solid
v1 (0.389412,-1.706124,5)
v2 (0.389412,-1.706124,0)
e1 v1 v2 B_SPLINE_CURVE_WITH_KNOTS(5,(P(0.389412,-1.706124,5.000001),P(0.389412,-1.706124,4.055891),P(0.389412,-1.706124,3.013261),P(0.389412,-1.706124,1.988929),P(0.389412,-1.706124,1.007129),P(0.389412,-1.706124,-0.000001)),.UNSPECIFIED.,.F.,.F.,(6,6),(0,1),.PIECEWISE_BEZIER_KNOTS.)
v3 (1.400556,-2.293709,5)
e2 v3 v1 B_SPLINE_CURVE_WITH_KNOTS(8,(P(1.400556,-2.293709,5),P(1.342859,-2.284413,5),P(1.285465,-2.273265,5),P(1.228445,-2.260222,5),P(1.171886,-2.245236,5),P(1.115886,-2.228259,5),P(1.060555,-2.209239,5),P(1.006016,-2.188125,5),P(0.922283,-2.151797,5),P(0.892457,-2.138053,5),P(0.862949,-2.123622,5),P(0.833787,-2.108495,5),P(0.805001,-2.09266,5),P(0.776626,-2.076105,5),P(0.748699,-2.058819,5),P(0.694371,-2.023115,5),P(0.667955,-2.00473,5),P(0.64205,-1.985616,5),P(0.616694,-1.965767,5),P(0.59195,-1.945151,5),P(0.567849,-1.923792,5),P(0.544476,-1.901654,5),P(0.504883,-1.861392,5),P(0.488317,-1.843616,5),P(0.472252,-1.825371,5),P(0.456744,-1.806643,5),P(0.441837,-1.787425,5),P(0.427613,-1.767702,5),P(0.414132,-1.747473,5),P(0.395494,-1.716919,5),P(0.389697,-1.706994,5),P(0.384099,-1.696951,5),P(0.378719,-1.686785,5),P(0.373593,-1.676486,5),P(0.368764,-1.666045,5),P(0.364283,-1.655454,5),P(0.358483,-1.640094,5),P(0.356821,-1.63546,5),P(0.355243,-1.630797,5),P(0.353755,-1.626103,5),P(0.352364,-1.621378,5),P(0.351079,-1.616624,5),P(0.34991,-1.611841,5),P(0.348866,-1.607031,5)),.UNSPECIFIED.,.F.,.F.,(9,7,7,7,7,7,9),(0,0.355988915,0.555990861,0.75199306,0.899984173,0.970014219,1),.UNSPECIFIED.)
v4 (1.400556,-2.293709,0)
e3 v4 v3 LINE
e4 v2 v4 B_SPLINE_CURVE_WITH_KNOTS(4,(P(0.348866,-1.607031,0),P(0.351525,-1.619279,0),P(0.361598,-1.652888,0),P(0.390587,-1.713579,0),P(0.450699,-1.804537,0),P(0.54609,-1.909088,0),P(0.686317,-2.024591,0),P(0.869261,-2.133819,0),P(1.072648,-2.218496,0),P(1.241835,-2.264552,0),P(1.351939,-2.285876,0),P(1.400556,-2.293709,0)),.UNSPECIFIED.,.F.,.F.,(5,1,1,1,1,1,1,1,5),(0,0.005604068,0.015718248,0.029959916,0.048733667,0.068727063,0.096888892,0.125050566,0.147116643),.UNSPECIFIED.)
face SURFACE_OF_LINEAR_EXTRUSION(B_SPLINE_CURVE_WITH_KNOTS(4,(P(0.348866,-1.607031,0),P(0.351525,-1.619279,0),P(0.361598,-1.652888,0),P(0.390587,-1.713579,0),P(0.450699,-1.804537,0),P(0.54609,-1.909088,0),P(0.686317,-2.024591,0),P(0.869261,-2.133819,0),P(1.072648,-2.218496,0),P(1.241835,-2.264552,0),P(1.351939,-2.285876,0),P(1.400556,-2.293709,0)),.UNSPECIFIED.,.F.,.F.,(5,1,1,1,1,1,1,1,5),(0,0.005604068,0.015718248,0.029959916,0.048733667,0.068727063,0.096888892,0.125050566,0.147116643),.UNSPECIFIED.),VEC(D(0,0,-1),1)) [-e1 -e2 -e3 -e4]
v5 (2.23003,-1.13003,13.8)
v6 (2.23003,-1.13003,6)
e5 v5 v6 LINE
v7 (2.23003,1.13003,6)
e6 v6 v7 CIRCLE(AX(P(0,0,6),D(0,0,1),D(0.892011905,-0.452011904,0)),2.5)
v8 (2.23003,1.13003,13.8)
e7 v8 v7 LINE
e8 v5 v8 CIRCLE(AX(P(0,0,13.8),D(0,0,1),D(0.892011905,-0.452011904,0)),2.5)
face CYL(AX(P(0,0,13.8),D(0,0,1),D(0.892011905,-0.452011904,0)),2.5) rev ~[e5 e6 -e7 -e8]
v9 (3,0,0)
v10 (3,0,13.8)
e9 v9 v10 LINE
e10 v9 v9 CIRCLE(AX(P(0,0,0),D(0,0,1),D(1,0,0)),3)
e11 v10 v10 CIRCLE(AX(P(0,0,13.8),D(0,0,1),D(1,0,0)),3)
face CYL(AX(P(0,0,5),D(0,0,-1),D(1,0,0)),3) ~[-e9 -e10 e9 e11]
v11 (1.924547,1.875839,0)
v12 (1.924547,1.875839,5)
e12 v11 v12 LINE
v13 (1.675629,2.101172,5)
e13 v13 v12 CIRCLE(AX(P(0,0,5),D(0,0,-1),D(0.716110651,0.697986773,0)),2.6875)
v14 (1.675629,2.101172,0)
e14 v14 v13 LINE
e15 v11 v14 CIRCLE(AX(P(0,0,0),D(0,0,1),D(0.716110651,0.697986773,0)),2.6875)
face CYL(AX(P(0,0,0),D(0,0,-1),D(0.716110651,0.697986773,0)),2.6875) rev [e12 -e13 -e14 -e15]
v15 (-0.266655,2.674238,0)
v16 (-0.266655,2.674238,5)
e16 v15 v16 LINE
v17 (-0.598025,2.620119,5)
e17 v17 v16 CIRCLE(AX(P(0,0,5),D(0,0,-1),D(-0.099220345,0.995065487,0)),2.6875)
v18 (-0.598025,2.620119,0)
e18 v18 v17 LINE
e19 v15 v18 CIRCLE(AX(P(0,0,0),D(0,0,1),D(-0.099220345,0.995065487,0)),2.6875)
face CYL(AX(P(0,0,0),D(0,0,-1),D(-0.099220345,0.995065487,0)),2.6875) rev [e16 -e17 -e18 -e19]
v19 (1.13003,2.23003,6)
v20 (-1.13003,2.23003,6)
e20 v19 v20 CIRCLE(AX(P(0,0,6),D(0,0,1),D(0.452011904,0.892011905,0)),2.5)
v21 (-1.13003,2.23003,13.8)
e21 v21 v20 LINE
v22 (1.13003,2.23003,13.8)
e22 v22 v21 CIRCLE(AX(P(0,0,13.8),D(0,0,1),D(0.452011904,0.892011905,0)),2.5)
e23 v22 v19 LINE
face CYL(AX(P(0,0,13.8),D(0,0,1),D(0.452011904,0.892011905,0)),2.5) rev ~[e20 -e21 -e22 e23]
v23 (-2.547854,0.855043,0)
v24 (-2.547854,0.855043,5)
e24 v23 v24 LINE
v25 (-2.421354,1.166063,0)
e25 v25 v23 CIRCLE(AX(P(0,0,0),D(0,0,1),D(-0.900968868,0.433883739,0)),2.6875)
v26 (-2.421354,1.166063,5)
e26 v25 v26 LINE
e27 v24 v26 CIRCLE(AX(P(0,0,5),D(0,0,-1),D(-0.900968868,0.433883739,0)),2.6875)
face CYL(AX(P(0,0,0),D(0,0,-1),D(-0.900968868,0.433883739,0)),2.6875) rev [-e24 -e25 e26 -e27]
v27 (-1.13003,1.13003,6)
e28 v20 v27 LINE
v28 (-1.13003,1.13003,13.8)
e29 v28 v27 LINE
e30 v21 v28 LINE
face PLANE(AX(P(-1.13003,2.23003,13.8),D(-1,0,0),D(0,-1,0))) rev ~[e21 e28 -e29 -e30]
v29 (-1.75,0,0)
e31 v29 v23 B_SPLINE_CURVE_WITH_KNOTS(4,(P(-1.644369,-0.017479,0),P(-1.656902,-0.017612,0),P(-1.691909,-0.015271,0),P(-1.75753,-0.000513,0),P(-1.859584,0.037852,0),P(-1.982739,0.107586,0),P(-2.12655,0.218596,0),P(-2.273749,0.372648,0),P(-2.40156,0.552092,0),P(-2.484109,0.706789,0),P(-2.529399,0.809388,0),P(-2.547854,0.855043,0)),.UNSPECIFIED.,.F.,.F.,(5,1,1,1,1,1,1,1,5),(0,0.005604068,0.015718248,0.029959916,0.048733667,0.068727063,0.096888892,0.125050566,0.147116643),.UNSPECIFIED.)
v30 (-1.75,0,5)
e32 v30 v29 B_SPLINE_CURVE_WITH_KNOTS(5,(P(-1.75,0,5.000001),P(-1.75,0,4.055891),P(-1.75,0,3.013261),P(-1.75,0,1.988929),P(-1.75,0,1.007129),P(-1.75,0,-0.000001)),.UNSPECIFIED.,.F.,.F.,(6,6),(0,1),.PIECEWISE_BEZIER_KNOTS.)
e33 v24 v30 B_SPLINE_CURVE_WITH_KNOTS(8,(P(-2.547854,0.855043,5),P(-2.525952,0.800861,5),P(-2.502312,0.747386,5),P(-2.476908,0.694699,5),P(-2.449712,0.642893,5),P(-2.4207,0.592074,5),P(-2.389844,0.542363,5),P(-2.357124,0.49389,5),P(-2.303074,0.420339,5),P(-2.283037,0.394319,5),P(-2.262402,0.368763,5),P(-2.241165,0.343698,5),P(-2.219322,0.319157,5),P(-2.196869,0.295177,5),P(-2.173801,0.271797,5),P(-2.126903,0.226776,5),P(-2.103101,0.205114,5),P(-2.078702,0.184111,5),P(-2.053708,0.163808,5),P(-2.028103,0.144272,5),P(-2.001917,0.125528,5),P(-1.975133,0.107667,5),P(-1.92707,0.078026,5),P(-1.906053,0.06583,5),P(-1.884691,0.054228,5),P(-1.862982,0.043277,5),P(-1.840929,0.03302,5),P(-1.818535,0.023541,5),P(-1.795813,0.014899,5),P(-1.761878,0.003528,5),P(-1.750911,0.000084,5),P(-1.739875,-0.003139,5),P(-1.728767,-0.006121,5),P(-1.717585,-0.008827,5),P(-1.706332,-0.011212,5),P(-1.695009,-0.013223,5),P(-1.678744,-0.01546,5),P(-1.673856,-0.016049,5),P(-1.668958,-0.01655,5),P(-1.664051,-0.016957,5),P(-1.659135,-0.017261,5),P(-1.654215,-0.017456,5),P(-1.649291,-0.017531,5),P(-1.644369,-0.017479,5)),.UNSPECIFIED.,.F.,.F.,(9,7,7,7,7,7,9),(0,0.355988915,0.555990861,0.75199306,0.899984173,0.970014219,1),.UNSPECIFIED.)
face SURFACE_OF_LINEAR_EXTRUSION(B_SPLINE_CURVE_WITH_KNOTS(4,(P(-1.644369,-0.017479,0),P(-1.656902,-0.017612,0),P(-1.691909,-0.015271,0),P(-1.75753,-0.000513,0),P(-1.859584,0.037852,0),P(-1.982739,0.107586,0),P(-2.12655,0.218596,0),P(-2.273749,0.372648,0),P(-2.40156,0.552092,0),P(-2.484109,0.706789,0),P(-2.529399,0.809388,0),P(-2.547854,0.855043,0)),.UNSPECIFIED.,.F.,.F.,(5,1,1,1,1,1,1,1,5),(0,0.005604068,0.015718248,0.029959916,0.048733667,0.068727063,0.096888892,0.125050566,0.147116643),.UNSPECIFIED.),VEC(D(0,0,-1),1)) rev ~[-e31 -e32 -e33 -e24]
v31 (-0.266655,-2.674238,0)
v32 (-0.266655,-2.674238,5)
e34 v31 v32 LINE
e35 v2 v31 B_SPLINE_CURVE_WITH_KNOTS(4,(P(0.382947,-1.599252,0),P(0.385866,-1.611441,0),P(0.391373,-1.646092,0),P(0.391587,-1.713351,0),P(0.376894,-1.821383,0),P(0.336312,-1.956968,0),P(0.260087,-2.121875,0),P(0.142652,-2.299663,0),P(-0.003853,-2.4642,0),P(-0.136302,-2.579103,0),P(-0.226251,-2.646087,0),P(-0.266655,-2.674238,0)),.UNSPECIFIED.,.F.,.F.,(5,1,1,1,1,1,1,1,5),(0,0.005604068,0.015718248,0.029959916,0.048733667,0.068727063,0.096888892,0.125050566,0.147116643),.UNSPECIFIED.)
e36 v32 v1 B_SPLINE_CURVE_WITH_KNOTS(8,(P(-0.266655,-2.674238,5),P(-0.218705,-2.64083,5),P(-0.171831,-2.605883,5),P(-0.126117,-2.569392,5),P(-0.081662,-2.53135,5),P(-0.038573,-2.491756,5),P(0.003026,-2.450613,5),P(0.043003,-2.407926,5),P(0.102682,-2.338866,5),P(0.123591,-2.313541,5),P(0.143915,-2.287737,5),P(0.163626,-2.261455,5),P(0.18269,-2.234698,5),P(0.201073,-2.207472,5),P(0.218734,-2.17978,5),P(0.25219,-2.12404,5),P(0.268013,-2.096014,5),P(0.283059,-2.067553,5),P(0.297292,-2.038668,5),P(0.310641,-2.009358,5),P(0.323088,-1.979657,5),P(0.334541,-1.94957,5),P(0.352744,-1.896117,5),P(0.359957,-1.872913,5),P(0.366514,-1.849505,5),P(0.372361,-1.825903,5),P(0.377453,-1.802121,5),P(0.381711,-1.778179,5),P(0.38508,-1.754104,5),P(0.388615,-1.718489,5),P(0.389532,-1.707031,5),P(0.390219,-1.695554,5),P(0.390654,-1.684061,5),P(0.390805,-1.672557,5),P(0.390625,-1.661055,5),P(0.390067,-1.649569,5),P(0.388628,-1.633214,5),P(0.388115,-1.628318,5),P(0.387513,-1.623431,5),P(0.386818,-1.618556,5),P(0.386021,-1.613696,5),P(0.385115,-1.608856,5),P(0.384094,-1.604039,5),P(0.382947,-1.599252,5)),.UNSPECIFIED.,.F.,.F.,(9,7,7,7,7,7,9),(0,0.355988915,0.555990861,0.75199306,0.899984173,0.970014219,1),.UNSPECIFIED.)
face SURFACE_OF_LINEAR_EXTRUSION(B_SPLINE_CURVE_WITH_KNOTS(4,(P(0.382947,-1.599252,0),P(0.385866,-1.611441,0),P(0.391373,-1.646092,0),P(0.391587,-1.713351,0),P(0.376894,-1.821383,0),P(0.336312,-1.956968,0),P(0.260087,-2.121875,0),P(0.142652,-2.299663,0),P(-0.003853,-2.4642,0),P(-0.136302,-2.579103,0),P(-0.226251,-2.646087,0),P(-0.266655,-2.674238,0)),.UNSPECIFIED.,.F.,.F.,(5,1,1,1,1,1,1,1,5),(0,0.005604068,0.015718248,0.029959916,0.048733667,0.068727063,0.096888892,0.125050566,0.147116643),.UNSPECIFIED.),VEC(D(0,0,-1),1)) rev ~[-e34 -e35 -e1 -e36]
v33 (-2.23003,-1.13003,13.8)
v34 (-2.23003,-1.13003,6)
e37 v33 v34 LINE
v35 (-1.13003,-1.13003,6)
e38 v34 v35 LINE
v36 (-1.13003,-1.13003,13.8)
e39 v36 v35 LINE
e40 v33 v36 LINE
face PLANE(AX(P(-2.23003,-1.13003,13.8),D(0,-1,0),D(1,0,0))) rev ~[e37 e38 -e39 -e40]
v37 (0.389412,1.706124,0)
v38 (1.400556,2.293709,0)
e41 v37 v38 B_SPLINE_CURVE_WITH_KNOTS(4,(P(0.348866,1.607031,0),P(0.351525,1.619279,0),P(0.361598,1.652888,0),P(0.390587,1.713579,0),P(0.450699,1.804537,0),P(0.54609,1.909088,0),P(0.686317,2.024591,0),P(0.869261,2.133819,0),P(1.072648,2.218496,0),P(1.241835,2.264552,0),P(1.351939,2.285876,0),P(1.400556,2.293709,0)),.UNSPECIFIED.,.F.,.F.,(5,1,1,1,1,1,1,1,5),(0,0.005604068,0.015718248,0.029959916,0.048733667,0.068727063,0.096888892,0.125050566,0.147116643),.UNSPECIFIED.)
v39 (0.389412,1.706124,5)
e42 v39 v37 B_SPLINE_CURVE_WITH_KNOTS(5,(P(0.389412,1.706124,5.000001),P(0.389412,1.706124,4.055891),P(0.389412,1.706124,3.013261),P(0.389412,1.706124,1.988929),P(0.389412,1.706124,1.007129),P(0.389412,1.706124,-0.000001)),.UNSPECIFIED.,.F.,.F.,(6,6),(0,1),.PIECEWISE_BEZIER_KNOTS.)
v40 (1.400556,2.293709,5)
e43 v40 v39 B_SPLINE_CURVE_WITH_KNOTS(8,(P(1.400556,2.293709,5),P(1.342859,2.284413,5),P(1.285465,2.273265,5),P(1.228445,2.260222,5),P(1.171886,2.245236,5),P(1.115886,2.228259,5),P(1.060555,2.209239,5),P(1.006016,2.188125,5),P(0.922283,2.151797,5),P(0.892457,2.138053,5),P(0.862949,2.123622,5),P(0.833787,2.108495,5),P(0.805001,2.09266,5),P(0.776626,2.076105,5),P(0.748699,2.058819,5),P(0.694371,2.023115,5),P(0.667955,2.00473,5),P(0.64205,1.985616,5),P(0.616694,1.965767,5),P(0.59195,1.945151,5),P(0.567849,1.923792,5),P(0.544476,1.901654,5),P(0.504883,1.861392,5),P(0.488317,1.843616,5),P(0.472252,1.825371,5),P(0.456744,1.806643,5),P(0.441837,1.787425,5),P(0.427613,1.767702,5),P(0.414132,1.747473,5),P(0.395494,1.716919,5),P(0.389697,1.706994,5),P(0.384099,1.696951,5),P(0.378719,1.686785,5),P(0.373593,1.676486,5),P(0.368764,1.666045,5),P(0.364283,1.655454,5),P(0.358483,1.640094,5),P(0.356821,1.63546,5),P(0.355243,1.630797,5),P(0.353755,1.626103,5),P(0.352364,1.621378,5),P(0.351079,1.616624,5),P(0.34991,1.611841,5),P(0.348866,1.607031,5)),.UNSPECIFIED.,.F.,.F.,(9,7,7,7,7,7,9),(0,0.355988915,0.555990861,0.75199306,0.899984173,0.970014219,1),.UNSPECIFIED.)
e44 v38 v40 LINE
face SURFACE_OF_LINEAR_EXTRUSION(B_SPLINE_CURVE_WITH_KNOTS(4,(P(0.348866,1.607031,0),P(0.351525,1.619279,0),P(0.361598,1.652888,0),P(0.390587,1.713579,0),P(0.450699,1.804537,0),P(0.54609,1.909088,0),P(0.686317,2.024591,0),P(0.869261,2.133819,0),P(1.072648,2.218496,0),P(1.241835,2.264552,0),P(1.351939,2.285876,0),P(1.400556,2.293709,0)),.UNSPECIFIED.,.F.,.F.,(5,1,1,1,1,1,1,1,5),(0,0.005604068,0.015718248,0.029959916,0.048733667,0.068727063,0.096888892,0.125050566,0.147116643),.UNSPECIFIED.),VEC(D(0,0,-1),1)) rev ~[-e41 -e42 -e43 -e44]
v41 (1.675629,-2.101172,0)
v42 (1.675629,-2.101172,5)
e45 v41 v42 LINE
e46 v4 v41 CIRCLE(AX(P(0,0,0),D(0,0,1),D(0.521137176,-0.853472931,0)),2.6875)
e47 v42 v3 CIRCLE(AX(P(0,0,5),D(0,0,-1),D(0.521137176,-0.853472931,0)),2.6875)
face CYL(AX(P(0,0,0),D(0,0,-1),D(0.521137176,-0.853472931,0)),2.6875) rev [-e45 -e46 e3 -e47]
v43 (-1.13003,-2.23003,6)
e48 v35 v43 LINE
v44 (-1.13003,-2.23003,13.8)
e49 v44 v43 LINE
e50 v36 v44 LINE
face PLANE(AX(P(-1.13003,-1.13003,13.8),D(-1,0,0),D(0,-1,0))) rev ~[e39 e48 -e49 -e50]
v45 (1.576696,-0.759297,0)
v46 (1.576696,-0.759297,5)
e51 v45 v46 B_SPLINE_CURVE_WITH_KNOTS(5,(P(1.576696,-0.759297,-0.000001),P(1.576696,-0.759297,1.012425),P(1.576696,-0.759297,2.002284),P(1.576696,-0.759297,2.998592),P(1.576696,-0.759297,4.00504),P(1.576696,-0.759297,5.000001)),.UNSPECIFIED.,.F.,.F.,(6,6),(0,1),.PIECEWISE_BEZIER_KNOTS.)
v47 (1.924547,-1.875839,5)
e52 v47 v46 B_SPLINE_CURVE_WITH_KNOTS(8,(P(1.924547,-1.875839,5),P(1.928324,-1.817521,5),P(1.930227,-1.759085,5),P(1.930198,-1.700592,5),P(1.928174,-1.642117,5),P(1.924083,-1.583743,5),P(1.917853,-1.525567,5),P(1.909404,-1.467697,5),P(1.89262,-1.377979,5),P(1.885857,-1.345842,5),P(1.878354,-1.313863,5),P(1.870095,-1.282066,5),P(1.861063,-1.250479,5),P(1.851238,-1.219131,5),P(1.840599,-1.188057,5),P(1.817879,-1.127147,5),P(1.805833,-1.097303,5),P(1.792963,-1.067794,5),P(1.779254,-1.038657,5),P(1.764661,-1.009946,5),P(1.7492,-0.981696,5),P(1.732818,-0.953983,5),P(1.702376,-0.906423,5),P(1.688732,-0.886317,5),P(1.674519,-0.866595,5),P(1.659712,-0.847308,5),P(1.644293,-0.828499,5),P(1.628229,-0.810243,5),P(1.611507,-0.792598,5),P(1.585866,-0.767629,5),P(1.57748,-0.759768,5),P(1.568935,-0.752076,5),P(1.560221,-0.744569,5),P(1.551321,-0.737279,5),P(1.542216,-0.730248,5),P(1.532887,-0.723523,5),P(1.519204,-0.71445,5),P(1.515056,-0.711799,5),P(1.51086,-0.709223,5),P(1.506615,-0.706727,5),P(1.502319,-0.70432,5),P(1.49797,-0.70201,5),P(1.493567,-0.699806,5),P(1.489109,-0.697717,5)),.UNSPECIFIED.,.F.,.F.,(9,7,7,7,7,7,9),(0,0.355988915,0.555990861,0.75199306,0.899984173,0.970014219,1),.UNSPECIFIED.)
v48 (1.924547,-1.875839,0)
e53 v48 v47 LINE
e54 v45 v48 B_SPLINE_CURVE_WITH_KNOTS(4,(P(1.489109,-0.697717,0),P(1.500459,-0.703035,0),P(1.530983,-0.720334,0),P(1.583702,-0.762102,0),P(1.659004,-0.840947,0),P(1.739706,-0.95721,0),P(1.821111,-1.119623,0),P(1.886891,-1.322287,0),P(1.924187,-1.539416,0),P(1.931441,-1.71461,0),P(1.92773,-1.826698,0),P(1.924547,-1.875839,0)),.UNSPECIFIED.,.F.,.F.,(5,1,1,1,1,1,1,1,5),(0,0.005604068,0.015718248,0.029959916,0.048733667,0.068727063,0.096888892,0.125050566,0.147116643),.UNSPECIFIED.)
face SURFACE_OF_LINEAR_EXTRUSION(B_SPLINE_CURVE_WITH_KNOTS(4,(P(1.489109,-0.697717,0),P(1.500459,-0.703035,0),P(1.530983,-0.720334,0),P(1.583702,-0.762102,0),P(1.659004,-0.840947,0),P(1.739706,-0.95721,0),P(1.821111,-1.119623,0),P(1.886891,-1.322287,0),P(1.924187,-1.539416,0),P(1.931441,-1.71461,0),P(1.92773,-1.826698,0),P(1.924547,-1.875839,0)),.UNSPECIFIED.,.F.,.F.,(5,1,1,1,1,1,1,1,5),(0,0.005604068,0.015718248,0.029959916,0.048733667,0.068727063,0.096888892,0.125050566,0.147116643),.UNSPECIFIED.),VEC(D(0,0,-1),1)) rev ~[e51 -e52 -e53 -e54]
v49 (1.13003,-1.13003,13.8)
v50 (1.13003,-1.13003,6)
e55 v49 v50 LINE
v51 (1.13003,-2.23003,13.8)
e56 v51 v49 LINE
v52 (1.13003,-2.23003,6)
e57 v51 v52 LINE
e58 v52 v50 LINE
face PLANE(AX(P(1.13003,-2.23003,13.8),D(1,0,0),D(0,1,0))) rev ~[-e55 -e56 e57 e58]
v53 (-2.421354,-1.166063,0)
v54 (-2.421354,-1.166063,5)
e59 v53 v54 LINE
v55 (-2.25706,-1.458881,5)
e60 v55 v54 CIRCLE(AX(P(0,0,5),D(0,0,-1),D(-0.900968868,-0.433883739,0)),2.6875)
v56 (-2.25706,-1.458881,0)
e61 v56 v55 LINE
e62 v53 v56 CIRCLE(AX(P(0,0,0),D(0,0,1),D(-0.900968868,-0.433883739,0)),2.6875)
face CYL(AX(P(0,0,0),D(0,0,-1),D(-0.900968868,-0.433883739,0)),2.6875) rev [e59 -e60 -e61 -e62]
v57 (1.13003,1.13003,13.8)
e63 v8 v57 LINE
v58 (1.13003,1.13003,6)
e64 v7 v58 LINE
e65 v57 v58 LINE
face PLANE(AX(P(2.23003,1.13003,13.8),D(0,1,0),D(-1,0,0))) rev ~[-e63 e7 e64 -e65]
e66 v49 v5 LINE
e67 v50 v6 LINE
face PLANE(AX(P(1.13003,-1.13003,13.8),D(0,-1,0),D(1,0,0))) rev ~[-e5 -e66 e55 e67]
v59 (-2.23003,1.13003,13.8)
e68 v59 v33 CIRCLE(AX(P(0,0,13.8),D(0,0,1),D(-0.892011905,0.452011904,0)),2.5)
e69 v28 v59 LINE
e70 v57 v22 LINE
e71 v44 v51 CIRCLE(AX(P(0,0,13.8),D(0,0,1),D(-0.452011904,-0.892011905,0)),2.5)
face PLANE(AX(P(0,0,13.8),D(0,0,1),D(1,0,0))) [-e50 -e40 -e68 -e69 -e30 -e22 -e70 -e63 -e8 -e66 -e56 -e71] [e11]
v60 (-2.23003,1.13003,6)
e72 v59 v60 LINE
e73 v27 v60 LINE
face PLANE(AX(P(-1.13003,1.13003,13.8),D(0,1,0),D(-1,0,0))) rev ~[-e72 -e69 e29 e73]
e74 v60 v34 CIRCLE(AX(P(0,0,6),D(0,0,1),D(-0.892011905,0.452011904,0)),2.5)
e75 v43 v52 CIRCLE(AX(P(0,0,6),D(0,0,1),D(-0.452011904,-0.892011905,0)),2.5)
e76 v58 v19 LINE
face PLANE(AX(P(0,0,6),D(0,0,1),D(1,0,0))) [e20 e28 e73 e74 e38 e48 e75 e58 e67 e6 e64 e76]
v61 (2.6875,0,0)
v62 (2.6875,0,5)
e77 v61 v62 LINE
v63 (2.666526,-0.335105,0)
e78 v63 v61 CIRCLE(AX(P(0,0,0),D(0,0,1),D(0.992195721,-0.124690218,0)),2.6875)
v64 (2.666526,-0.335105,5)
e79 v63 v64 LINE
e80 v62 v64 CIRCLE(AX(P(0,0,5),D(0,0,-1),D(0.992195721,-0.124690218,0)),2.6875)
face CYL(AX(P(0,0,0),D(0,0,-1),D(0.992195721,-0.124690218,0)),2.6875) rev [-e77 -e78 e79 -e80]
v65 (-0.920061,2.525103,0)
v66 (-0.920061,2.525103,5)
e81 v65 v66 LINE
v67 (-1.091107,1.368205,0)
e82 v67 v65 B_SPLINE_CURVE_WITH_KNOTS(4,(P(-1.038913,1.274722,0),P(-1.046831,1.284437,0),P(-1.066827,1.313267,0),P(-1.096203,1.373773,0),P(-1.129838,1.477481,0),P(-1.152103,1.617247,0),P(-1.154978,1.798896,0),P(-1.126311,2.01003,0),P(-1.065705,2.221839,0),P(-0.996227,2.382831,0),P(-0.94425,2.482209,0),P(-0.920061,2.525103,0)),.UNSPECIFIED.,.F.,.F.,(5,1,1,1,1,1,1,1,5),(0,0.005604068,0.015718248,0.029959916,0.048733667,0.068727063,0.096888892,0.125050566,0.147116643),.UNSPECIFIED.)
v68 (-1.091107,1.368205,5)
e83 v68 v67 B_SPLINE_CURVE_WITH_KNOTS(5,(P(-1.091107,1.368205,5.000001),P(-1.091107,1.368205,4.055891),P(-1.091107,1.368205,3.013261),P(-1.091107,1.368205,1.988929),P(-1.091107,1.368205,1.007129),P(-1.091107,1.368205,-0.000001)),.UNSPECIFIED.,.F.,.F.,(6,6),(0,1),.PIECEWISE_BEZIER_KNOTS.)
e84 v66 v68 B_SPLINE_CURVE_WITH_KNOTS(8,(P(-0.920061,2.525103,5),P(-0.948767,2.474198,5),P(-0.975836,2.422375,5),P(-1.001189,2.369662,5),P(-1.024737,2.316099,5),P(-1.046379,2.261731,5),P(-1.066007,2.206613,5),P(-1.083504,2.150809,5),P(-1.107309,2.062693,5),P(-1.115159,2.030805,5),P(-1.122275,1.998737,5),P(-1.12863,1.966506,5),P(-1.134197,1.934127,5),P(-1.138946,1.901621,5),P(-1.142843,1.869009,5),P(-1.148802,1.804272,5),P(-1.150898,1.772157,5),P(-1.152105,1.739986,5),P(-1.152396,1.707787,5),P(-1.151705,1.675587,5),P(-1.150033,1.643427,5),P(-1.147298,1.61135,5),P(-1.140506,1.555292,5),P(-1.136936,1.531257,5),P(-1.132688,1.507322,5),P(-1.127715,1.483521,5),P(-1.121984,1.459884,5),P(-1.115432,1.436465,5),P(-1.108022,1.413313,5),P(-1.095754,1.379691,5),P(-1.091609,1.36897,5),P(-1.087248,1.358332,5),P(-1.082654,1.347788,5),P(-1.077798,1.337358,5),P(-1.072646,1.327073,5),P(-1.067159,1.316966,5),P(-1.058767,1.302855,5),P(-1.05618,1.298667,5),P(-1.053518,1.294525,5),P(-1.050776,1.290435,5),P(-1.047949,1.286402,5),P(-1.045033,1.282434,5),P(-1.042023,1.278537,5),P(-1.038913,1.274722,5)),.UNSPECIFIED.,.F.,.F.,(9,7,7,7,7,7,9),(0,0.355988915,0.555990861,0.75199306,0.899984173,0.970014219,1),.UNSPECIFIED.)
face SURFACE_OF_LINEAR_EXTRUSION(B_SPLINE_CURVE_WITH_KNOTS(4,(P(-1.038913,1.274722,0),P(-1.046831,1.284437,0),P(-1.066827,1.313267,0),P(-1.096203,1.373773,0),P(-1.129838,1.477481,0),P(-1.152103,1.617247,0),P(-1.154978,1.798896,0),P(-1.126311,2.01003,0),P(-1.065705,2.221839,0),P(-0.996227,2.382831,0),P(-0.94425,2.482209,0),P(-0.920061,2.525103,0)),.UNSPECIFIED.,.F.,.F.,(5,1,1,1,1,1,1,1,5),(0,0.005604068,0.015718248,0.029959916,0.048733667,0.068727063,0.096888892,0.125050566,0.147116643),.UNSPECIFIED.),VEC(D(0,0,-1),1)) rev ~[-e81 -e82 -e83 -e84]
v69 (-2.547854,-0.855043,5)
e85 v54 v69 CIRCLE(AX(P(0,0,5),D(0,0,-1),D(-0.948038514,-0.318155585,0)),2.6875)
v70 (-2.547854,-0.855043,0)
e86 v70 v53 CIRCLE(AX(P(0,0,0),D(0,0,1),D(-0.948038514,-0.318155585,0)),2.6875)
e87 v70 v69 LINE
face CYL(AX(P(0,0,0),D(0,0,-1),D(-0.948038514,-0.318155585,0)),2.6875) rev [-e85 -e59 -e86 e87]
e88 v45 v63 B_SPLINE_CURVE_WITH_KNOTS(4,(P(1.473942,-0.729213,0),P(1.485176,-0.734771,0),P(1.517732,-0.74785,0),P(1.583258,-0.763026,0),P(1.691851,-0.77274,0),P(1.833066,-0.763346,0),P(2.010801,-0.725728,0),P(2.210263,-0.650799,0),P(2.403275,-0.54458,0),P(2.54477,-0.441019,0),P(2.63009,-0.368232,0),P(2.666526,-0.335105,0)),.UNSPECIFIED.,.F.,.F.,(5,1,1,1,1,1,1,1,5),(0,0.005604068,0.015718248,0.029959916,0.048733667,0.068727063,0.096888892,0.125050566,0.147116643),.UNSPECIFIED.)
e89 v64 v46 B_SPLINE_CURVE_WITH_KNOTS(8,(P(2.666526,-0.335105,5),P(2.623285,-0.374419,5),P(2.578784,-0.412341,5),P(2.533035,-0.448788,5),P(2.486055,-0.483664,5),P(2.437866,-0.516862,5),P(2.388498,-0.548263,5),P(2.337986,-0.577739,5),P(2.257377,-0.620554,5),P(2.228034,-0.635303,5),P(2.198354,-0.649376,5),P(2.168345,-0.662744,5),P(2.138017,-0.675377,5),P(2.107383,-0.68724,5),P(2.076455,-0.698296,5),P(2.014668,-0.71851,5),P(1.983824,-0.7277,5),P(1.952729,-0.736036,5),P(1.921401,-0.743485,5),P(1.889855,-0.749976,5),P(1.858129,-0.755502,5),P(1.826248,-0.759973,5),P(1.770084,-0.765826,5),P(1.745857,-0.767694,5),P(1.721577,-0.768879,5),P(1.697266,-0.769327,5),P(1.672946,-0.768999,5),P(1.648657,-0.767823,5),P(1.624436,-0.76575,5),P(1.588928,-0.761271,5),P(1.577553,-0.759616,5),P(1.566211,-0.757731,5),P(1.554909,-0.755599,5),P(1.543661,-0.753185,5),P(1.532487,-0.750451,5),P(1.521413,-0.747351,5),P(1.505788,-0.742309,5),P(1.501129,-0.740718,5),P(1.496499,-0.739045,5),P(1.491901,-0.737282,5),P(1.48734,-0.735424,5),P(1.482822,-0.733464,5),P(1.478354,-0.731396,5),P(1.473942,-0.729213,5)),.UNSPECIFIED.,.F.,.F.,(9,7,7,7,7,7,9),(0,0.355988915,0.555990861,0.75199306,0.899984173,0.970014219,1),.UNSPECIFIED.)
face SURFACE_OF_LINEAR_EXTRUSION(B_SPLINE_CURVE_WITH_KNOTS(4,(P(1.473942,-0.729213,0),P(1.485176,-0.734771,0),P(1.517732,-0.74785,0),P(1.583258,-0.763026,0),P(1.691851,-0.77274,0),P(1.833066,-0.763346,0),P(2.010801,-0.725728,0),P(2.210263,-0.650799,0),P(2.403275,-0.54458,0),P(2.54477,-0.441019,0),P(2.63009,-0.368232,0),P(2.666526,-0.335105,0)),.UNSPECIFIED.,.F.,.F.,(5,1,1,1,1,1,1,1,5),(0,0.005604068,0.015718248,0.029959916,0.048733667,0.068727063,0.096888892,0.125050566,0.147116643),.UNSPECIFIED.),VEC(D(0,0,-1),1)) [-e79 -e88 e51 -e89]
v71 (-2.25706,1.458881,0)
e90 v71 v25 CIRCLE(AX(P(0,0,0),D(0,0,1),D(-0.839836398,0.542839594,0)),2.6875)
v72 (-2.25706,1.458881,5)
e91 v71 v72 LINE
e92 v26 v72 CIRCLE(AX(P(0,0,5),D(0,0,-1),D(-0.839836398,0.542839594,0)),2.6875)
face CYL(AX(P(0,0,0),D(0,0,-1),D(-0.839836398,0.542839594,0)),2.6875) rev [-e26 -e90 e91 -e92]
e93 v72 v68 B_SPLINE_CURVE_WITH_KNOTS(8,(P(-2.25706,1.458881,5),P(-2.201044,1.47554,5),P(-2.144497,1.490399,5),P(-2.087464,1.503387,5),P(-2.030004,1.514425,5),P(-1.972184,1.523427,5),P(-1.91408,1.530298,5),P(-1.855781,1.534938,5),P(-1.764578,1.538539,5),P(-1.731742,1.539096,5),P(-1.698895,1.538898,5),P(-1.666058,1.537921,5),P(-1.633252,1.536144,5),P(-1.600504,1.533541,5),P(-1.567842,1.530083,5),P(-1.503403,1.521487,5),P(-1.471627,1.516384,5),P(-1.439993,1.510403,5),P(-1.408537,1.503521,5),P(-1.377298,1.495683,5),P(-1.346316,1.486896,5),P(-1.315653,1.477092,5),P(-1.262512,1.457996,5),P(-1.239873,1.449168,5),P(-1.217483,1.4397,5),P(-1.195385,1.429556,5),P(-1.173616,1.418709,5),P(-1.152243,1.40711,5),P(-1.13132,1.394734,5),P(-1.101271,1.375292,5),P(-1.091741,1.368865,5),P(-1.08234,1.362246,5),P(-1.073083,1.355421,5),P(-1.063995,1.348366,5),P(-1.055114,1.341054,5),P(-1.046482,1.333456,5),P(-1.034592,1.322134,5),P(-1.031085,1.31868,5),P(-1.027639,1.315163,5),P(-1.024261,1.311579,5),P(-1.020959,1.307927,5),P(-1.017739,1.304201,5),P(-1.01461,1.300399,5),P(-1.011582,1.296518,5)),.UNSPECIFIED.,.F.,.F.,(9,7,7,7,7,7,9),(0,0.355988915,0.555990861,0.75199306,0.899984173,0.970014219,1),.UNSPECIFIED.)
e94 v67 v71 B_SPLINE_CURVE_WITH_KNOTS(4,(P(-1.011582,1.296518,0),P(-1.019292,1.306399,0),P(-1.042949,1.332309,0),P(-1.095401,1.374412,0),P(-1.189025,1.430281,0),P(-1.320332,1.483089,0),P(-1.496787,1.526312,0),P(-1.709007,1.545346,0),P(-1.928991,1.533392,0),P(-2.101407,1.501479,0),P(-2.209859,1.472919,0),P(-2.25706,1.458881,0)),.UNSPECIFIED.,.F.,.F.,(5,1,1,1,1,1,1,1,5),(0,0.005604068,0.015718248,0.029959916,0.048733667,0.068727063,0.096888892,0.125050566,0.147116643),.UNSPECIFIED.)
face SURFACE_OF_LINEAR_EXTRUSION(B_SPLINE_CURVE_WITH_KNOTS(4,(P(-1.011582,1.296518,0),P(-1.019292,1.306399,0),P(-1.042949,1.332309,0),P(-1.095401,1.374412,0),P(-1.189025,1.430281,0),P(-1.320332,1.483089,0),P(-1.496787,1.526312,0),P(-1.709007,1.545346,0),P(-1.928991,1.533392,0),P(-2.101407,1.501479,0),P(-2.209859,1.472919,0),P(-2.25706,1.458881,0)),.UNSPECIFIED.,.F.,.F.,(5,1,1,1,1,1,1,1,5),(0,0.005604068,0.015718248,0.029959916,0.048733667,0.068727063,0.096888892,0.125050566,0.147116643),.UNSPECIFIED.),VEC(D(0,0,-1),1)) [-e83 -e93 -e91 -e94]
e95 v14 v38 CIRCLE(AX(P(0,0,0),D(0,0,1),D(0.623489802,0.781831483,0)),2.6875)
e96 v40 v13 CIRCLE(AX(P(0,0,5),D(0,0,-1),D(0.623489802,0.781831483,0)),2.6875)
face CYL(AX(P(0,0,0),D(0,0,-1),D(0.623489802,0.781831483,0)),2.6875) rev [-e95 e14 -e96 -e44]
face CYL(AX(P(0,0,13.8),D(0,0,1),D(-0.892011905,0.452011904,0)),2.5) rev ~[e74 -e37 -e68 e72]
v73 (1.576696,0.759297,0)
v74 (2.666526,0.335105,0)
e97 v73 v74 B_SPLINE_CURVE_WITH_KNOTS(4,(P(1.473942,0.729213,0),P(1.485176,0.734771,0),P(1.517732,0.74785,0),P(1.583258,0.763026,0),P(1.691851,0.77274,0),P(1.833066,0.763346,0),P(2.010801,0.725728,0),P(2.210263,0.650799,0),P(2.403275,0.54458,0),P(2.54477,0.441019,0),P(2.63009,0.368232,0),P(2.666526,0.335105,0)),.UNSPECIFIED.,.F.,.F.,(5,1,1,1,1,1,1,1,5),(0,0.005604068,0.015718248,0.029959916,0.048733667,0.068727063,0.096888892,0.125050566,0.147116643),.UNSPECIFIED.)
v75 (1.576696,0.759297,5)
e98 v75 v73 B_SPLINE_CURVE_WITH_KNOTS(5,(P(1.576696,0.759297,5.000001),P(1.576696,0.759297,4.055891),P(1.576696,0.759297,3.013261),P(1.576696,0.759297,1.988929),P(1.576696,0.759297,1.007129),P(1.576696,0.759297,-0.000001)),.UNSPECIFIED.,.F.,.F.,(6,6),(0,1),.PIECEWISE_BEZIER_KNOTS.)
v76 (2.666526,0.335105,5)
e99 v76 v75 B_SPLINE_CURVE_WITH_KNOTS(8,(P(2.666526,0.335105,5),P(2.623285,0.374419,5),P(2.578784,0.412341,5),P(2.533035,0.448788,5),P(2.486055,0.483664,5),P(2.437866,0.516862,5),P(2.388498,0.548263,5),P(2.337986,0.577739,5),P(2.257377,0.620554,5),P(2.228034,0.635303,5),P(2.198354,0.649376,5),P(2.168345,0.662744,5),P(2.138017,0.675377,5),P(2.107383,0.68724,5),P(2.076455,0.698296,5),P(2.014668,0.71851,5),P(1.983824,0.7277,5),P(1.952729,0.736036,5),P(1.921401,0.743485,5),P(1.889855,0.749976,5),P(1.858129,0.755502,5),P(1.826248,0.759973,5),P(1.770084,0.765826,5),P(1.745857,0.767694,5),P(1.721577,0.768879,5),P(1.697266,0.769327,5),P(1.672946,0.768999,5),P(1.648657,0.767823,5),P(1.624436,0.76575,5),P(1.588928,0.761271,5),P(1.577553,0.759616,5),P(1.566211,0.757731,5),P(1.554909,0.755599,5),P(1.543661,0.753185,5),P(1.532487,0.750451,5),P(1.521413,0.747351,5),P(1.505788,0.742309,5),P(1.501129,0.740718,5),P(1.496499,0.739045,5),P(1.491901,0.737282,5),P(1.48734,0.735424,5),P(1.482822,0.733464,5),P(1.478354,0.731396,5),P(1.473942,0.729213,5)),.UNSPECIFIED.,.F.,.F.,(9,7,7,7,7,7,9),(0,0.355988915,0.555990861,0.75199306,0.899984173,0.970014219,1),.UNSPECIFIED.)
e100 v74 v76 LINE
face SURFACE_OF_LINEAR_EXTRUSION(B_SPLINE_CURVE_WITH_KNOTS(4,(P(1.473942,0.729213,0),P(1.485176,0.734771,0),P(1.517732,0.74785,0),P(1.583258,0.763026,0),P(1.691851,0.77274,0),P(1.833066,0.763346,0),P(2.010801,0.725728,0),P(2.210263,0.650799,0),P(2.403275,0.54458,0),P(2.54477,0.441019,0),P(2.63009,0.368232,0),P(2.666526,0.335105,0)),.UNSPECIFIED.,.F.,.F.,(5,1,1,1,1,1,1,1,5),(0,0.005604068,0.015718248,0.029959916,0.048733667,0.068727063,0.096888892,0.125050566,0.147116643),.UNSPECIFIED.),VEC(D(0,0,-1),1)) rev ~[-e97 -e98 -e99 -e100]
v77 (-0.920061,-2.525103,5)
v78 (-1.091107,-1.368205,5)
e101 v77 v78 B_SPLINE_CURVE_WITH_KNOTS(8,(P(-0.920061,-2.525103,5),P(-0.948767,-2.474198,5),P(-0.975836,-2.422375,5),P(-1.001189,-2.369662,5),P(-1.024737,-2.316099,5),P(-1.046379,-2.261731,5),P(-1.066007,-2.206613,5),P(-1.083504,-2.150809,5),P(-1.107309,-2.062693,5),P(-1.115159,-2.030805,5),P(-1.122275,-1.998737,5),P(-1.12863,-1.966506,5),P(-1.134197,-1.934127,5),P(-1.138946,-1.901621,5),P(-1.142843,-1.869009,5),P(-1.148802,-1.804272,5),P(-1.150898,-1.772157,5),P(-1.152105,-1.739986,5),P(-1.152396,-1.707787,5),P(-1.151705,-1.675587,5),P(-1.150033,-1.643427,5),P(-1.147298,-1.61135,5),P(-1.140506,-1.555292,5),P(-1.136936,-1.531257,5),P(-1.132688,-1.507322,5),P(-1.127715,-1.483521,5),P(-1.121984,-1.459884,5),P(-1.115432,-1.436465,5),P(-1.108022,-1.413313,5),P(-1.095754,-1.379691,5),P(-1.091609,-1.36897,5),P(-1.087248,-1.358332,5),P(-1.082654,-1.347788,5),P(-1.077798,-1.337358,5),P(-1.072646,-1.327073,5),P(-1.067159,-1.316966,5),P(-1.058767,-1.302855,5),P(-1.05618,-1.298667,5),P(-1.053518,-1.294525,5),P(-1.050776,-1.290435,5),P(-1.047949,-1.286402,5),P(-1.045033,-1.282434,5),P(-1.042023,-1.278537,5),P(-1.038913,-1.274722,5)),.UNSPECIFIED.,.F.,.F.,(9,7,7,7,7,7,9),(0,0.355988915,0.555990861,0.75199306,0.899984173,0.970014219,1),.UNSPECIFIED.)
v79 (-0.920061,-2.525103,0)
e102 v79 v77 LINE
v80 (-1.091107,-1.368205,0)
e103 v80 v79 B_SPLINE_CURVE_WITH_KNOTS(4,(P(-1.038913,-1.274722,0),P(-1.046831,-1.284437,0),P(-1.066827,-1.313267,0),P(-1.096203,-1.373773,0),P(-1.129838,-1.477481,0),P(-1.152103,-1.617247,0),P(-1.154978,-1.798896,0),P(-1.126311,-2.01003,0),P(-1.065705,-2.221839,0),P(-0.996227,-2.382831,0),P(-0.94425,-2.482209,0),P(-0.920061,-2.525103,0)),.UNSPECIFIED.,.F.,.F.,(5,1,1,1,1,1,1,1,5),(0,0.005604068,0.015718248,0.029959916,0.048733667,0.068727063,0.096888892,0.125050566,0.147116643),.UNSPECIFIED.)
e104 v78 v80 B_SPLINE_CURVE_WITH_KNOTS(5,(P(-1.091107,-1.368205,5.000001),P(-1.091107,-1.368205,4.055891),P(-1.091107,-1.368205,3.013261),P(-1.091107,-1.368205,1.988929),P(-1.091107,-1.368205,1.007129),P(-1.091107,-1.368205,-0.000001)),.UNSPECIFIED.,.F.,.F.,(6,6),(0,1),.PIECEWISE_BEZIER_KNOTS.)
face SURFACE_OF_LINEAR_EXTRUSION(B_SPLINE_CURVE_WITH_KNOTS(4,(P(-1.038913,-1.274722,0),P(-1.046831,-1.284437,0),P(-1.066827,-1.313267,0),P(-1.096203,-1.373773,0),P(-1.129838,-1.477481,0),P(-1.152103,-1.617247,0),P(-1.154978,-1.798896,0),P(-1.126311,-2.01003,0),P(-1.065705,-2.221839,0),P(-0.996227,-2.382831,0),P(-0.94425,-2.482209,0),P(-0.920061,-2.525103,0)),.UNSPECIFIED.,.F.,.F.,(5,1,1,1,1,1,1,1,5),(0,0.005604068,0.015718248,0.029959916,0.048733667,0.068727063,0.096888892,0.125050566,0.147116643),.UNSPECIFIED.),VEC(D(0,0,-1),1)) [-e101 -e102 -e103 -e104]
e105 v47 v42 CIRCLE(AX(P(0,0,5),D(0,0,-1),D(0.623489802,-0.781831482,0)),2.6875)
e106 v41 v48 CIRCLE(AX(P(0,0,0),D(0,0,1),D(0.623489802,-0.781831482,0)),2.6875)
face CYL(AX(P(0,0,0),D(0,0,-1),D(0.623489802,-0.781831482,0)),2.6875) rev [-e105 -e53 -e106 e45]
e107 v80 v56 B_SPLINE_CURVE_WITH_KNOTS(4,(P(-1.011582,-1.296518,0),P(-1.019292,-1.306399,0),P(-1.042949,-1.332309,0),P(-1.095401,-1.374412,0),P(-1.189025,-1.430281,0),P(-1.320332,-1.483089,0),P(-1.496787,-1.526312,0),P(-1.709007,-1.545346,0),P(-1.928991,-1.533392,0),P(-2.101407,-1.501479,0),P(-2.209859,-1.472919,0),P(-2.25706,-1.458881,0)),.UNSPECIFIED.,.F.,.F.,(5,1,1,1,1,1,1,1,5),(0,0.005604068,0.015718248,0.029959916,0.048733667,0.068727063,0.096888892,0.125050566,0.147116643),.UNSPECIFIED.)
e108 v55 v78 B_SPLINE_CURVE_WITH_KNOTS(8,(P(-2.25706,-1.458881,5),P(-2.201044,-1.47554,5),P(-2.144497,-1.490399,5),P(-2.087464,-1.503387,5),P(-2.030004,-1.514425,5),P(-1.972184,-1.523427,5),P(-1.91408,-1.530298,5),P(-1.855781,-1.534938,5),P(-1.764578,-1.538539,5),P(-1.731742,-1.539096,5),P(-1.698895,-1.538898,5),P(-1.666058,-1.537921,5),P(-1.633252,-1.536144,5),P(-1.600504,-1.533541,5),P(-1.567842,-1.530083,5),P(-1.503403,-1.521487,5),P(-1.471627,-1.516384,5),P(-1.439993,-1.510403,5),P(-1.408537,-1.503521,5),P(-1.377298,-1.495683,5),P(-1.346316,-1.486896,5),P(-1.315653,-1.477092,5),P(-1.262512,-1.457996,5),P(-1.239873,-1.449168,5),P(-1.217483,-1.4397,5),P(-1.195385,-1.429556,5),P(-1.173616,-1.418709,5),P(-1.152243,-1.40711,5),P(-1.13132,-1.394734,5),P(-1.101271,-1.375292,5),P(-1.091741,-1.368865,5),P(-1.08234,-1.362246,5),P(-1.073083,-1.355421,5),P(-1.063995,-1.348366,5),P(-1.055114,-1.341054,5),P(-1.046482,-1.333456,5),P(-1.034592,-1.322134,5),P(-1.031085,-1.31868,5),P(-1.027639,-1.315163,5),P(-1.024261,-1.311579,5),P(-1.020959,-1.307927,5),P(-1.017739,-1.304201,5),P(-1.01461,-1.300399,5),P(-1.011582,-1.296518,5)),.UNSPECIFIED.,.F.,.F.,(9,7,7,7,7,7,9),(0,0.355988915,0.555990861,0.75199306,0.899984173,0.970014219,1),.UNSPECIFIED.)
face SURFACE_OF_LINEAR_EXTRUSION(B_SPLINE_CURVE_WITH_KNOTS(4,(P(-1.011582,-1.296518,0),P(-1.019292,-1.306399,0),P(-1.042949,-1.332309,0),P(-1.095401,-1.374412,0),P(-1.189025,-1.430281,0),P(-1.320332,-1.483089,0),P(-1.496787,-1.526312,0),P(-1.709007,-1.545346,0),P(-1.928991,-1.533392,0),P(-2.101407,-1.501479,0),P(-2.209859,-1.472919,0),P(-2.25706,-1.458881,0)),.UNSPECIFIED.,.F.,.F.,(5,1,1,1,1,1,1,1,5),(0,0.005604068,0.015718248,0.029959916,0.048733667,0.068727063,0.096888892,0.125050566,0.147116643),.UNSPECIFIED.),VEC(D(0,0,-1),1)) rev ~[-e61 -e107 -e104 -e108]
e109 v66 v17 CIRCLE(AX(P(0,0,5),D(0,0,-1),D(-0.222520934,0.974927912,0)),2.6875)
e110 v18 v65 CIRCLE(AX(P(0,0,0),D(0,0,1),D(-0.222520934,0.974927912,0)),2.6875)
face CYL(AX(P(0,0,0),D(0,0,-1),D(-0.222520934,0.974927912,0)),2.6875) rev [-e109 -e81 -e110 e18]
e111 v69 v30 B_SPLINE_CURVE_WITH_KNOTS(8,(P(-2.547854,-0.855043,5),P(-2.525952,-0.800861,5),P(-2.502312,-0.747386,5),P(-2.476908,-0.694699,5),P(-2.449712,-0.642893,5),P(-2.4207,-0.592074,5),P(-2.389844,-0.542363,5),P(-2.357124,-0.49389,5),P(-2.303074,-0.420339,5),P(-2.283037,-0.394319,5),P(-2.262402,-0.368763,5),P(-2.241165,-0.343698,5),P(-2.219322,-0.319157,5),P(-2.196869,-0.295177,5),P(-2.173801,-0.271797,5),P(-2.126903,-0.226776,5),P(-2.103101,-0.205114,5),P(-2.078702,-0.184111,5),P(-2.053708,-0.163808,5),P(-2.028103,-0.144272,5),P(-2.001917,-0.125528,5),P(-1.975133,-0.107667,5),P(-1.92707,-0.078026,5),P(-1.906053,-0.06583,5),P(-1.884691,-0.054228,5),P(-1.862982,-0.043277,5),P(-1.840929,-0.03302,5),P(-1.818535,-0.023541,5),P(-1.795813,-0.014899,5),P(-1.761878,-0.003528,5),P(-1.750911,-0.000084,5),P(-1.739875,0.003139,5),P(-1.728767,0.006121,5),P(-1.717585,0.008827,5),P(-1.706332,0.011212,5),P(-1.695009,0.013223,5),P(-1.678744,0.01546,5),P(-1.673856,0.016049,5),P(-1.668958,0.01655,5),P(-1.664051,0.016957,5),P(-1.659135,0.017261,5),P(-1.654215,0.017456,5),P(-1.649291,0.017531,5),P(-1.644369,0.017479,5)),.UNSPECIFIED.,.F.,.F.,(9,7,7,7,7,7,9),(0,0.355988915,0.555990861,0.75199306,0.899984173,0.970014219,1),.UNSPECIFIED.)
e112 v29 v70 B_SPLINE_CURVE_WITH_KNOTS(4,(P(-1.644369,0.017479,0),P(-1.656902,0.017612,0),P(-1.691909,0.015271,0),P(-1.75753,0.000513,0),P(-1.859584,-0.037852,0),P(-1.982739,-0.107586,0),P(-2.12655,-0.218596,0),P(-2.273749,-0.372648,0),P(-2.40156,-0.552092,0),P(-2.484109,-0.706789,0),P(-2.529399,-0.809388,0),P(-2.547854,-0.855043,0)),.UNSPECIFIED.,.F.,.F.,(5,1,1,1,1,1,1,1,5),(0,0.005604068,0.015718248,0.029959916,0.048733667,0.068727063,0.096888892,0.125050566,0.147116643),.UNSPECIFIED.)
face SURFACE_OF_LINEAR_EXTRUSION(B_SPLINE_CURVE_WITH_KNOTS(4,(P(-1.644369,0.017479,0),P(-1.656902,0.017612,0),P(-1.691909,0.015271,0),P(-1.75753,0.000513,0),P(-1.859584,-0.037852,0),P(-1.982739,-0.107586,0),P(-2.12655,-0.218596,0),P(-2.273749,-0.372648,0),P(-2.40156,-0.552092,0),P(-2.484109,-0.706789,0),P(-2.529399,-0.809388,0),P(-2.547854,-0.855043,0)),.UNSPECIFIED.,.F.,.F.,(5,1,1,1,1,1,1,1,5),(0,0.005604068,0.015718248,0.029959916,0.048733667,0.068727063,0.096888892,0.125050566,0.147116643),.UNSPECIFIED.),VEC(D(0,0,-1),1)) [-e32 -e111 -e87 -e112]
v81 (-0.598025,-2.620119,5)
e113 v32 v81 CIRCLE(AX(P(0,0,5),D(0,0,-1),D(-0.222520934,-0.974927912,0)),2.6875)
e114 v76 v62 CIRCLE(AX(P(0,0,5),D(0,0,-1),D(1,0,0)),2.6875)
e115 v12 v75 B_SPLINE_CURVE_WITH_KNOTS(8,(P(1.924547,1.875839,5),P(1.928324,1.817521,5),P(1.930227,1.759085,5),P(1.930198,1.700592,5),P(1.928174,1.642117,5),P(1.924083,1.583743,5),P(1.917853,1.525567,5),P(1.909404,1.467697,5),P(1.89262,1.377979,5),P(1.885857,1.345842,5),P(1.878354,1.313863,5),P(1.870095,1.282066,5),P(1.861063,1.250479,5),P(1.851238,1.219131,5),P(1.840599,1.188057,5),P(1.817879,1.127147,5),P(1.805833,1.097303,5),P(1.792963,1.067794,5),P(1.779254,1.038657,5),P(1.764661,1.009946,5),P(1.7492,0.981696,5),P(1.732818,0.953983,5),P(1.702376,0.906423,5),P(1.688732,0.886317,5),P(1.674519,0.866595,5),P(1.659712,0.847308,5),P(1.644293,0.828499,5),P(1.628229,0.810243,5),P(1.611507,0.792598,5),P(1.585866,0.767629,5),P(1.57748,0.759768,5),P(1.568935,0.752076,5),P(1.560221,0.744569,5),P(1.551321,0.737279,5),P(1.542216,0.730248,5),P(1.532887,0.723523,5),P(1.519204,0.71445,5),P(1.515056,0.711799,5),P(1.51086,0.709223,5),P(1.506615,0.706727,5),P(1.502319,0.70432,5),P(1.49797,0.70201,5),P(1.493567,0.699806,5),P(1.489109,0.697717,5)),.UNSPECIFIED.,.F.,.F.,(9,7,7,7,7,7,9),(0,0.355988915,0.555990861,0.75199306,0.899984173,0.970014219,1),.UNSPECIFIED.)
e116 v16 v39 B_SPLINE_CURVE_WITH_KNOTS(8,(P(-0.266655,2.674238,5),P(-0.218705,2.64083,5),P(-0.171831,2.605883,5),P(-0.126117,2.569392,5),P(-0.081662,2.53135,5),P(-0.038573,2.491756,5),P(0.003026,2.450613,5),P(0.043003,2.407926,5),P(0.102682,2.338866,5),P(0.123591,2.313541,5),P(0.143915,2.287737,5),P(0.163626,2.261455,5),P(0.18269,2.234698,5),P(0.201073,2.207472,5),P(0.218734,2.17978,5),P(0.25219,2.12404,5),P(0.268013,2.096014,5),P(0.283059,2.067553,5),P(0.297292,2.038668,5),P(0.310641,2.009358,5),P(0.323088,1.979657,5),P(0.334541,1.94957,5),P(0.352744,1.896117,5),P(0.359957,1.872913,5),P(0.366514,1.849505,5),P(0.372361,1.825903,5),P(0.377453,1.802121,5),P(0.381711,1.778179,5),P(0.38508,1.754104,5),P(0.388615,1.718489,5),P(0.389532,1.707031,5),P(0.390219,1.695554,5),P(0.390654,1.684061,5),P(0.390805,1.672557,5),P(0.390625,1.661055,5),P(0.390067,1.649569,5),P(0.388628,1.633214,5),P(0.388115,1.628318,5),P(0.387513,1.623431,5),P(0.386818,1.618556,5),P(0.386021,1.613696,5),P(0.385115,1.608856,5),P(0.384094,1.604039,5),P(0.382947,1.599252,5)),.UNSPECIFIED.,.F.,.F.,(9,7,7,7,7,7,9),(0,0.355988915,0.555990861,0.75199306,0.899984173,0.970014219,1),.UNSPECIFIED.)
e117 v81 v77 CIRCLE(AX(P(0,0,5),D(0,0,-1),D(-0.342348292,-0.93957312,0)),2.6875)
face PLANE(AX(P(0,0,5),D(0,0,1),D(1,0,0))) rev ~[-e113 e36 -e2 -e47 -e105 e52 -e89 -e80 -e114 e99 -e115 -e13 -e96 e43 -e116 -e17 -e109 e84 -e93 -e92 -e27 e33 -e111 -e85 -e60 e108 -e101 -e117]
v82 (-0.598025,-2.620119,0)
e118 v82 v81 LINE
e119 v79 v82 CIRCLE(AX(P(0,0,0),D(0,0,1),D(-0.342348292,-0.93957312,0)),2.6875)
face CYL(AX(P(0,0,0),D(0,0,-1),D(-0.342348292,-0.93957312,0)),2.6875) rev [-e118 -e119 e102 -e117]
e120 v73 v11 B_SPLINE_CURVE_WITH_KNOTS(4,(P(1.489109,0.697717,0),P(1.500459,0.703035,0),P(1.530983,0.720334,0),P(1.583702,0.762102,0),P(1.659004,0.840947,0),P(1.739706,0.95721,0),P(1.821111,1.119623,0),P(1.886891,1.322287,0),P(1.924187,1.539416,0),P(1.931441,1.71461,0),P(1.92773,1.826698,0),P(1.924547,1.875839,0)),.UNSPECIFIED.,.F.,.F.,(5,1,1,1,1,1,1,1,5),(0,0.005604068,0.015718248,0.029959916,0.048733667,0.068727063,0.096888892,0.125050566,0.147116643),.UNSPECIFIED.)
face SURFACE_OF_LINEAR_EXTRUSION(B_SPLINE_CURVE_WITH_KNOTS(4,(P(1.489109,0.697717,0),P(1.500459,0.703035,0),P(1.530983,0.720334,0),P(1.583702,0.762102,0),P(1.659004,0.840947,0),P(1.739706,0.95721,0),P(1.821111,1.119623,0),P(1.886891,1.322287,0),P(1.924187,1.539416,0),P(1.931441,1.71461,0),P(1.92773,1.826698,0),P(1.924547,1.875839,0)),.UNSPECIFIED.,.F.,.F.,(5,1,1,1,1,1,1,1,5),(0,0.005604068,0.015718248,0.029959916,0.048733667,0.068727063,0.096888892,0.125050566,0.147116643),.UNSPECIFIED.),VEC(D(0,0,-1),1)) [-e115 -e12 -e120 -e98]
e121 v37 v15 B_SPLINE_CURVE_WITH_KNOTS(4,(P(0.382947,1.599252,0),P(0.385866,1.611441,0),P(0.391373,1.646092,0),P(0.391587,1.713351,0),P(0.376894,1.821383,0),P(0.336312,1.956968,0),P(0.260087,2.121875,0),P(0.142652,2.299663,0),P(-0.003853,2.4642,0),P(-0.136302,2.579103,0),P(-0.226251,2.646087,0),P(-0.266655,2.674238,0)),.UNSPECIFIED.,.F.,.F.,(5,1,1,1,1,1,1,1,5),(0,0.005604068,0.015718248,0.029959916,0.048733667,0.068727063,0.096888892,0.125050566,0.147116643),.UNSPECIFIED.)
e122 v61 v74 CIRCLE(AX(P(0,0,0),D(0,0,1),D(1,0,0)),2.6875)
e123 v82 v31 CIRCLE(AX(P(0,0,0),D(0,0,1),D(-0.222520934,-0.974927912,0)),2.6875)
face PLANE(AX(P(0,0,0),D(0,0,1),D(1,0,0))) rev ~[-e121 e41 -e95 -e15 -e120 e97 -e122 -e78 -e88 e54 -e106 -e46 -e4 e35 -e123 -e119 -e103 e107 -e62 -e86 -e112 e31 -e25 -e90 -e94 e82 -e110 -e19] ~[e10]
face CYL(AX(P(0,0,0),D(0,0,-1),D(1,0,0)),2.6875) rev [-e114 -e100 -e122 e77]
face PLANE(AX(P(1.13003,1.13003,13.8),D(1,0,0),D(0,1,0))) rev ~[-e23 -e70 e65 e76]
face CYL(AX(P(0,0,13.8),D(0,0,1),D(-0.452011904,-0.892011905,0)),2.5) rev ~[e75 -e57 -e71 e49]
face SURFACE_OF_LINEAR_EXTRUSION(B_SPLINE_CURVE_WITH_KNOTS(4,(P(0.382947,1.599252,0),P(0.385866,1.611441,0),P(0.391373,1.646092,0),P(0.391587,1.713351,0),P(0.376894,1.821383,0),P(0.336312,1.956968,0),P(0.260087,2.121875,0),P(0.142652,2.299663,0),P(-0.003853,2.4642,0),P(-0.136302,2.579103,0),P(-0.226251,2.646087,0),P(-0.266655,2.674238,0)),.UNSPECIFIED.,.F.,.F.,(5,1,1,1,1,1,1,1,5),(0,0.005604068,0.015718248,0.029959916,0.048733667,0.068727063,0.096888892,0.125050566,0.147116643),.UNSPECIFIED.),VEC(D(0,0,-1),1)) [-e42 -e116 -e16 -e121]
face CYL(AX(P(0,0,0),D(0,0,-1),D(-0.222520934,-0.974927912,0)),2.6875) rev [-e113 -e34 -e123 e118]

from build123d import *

# Parameters (mm, degrees)
SKETCH_1_R               = 3
SKETCH_1_R_2             = 1.5625
EXTRUDE_1_DEPTH          = 5
CUT_EXTRUDE_2_DEPTH      = 7.557438524
PATTERN_CIRCULAR_1_COUNT = 7
SKETCH_2_R               = 3
EXTRUDE_2_DEPTH          = 8.8
CUT_EXTRUDE_START        = 8.8
CUT_EXTRUDE_3_DEPTH      = 7.8


with BuildPart() as part:
    # 草图1 → 凸台-拉伸1 (new body)
    with BuildSketch(Plane.XY):
        Circle(SKETCH_1_R)
        Circle(SKETCH_1_R_2, mode=Mode.SUBTRACT)
    extrude(amount=EXTRUDE_1_DEPTH)

    # 草图1<3> → 切除-拉伸2 (cut, through all)
    with BuildSketch(Plane.XY):
        with BuildLine():
            Line((1.473941588, 0.729213103), (1.40047846, 0.692868192))
            ThreePointArc((1.40047846, 0.692868192), (1.521455528, 0.355779887), (1.5625, 0))
            ThreePointArc((1.5625, 0), (1.521455528, -0.355779887), (1.40047846, -0.692868192))
            Line((1.40047846, -0.692868192), (1.473941588, -0.729213103))
            add(Edge.make_bspline(
                [(1.473941588, -0.729213103), (1.485175683, -0.734771023), (1.517731995, -0.74785023), (1.58325759, -0.763025647), (1.69185053, -0.772739945), (1.833066262, -0.76334643), (2.010800821, -0.725727848), (2.210262557, -0.650798613), (2.403274907, -0.54458002), (2.544769721, -0.44101945), (2.63009006, -0.368231772), (2.666526001, -0.335104965)],
                knots=[0, 0, 0, 0, 0, 0.005604068, 0.015718248, 0.029959916, 0.048733667, 0.068727063, 0.096888892, 0.125050566, 0.147116643, 0.147116643, 0.147116643, 0.147116643, 0.147116643], degree=4))
            ThreePointArc((2.666526001, -0.335104965), (2.682251375, -0.167880349), (2.6875, 0))
            ThreePointArc((2.6875, 0), (2.682251375, 0.167880349), (2.666526001, 0.335104965))
            add(Edge.make_bspline(
                [(1.473941588, 0.729213103), (1.485175683, 0.734771023), (1.517731995, 0.74785023), (1.58325759, 0.763025647), (1.69185053, 0.772739945), (1.833066262, 0.76334643), (2.010800821, 0.725727848), (2.210262557, 0.650798613), (2.403274907, 0.54458002), (2.544769721, 0.44101945), (2.63009006, 0.368231772), (2.666526001, 0.335104965)],
                knots=[0, 0, 0, 0, 0, 0.005604068, 0.015718248, 0.029959916, 0.048733667, 0.068727063, 0.096888892, 0.125050566, 0.147116643, 0.147116643, 0.147116643, 0.147116643, 0.147116643], degree=4))
        make_face()
    cut_extrude_2 = extrude(amount=CUT_EXTRUDE_2_DEPTH, mode=Mode.SUBTRACT)

    # 阵列(圆周)1: 切除-拉伸2 ×7 about axis
    pattern_circular_1_axis = Axis((0, 0, 5), (0, 0, 1))
    for i in range(1, PATTERN_CIRCULAR_1_COUNT):
        add(cut_extrude_2.rotate(pattern_circular_1_axis, i * 360 / PATTERN_CIRCULAR_1_COUNT), mode=Mode.SUBTRACT)

    # 草图2 → 凸台-拉伸2 (add)
    with BuildSketch(Plane.XY.offset(5)):
        Circle(SKETCH_2_R)
    extrude(amount=EXTRUDE_2_DEPTH)

    # 草图2<4> → 切除-拉伸3 (cut)
    with BuildSketch(Plane.XY.offset(5).offset(CUT_EXTRUDE_START)):
        with BuildLine():
            ThreePointArc((1.130029762, 2.230029762), (0, 2.5), (-1.130029762, 2.230029762))
            Line((-1.130029762, 2.230029762), (-1.130029762, 1.130029762))
            Line((-1.130029762, 1.130029762), (-2.230029762, 1.130029762))
            ThreePointArc((-2.230029762, 1.130029762), (-2.5, 0), (-2.230029762, -1.130029762))
            Line((-2.230029762, -1.130029762), (-1.130029762, -1.130029762))
            Line((-1.130029762, -1.130029762), (-1.130029762, -2.230029762))
            ThreePointArc((-1.130029762, -2.230029762), (0, -2.5), (1.130029762, -2.230029762))
            Line((1.130029762, -2.230029762), (1.130029762, -1.130029762))
            Line((1.130029762, -1.130029762), (2.230029762, -1.130029762))
            ThreePointArc((2.230029762, -1.130029762), (2.5, 0), (2.230029762, 1.130029762))
            Line((2.230029762, 1.130029762), (1.130029762, 1.130029762))
            Line((1.130029762, 1.130029762), (1.130029762, 2.230029762))
        make_face()
    extrude(amount=-CUT_EXTRUDE_3_DEPTH, mode=Mode.SUBTRACT)


solid = part.part
